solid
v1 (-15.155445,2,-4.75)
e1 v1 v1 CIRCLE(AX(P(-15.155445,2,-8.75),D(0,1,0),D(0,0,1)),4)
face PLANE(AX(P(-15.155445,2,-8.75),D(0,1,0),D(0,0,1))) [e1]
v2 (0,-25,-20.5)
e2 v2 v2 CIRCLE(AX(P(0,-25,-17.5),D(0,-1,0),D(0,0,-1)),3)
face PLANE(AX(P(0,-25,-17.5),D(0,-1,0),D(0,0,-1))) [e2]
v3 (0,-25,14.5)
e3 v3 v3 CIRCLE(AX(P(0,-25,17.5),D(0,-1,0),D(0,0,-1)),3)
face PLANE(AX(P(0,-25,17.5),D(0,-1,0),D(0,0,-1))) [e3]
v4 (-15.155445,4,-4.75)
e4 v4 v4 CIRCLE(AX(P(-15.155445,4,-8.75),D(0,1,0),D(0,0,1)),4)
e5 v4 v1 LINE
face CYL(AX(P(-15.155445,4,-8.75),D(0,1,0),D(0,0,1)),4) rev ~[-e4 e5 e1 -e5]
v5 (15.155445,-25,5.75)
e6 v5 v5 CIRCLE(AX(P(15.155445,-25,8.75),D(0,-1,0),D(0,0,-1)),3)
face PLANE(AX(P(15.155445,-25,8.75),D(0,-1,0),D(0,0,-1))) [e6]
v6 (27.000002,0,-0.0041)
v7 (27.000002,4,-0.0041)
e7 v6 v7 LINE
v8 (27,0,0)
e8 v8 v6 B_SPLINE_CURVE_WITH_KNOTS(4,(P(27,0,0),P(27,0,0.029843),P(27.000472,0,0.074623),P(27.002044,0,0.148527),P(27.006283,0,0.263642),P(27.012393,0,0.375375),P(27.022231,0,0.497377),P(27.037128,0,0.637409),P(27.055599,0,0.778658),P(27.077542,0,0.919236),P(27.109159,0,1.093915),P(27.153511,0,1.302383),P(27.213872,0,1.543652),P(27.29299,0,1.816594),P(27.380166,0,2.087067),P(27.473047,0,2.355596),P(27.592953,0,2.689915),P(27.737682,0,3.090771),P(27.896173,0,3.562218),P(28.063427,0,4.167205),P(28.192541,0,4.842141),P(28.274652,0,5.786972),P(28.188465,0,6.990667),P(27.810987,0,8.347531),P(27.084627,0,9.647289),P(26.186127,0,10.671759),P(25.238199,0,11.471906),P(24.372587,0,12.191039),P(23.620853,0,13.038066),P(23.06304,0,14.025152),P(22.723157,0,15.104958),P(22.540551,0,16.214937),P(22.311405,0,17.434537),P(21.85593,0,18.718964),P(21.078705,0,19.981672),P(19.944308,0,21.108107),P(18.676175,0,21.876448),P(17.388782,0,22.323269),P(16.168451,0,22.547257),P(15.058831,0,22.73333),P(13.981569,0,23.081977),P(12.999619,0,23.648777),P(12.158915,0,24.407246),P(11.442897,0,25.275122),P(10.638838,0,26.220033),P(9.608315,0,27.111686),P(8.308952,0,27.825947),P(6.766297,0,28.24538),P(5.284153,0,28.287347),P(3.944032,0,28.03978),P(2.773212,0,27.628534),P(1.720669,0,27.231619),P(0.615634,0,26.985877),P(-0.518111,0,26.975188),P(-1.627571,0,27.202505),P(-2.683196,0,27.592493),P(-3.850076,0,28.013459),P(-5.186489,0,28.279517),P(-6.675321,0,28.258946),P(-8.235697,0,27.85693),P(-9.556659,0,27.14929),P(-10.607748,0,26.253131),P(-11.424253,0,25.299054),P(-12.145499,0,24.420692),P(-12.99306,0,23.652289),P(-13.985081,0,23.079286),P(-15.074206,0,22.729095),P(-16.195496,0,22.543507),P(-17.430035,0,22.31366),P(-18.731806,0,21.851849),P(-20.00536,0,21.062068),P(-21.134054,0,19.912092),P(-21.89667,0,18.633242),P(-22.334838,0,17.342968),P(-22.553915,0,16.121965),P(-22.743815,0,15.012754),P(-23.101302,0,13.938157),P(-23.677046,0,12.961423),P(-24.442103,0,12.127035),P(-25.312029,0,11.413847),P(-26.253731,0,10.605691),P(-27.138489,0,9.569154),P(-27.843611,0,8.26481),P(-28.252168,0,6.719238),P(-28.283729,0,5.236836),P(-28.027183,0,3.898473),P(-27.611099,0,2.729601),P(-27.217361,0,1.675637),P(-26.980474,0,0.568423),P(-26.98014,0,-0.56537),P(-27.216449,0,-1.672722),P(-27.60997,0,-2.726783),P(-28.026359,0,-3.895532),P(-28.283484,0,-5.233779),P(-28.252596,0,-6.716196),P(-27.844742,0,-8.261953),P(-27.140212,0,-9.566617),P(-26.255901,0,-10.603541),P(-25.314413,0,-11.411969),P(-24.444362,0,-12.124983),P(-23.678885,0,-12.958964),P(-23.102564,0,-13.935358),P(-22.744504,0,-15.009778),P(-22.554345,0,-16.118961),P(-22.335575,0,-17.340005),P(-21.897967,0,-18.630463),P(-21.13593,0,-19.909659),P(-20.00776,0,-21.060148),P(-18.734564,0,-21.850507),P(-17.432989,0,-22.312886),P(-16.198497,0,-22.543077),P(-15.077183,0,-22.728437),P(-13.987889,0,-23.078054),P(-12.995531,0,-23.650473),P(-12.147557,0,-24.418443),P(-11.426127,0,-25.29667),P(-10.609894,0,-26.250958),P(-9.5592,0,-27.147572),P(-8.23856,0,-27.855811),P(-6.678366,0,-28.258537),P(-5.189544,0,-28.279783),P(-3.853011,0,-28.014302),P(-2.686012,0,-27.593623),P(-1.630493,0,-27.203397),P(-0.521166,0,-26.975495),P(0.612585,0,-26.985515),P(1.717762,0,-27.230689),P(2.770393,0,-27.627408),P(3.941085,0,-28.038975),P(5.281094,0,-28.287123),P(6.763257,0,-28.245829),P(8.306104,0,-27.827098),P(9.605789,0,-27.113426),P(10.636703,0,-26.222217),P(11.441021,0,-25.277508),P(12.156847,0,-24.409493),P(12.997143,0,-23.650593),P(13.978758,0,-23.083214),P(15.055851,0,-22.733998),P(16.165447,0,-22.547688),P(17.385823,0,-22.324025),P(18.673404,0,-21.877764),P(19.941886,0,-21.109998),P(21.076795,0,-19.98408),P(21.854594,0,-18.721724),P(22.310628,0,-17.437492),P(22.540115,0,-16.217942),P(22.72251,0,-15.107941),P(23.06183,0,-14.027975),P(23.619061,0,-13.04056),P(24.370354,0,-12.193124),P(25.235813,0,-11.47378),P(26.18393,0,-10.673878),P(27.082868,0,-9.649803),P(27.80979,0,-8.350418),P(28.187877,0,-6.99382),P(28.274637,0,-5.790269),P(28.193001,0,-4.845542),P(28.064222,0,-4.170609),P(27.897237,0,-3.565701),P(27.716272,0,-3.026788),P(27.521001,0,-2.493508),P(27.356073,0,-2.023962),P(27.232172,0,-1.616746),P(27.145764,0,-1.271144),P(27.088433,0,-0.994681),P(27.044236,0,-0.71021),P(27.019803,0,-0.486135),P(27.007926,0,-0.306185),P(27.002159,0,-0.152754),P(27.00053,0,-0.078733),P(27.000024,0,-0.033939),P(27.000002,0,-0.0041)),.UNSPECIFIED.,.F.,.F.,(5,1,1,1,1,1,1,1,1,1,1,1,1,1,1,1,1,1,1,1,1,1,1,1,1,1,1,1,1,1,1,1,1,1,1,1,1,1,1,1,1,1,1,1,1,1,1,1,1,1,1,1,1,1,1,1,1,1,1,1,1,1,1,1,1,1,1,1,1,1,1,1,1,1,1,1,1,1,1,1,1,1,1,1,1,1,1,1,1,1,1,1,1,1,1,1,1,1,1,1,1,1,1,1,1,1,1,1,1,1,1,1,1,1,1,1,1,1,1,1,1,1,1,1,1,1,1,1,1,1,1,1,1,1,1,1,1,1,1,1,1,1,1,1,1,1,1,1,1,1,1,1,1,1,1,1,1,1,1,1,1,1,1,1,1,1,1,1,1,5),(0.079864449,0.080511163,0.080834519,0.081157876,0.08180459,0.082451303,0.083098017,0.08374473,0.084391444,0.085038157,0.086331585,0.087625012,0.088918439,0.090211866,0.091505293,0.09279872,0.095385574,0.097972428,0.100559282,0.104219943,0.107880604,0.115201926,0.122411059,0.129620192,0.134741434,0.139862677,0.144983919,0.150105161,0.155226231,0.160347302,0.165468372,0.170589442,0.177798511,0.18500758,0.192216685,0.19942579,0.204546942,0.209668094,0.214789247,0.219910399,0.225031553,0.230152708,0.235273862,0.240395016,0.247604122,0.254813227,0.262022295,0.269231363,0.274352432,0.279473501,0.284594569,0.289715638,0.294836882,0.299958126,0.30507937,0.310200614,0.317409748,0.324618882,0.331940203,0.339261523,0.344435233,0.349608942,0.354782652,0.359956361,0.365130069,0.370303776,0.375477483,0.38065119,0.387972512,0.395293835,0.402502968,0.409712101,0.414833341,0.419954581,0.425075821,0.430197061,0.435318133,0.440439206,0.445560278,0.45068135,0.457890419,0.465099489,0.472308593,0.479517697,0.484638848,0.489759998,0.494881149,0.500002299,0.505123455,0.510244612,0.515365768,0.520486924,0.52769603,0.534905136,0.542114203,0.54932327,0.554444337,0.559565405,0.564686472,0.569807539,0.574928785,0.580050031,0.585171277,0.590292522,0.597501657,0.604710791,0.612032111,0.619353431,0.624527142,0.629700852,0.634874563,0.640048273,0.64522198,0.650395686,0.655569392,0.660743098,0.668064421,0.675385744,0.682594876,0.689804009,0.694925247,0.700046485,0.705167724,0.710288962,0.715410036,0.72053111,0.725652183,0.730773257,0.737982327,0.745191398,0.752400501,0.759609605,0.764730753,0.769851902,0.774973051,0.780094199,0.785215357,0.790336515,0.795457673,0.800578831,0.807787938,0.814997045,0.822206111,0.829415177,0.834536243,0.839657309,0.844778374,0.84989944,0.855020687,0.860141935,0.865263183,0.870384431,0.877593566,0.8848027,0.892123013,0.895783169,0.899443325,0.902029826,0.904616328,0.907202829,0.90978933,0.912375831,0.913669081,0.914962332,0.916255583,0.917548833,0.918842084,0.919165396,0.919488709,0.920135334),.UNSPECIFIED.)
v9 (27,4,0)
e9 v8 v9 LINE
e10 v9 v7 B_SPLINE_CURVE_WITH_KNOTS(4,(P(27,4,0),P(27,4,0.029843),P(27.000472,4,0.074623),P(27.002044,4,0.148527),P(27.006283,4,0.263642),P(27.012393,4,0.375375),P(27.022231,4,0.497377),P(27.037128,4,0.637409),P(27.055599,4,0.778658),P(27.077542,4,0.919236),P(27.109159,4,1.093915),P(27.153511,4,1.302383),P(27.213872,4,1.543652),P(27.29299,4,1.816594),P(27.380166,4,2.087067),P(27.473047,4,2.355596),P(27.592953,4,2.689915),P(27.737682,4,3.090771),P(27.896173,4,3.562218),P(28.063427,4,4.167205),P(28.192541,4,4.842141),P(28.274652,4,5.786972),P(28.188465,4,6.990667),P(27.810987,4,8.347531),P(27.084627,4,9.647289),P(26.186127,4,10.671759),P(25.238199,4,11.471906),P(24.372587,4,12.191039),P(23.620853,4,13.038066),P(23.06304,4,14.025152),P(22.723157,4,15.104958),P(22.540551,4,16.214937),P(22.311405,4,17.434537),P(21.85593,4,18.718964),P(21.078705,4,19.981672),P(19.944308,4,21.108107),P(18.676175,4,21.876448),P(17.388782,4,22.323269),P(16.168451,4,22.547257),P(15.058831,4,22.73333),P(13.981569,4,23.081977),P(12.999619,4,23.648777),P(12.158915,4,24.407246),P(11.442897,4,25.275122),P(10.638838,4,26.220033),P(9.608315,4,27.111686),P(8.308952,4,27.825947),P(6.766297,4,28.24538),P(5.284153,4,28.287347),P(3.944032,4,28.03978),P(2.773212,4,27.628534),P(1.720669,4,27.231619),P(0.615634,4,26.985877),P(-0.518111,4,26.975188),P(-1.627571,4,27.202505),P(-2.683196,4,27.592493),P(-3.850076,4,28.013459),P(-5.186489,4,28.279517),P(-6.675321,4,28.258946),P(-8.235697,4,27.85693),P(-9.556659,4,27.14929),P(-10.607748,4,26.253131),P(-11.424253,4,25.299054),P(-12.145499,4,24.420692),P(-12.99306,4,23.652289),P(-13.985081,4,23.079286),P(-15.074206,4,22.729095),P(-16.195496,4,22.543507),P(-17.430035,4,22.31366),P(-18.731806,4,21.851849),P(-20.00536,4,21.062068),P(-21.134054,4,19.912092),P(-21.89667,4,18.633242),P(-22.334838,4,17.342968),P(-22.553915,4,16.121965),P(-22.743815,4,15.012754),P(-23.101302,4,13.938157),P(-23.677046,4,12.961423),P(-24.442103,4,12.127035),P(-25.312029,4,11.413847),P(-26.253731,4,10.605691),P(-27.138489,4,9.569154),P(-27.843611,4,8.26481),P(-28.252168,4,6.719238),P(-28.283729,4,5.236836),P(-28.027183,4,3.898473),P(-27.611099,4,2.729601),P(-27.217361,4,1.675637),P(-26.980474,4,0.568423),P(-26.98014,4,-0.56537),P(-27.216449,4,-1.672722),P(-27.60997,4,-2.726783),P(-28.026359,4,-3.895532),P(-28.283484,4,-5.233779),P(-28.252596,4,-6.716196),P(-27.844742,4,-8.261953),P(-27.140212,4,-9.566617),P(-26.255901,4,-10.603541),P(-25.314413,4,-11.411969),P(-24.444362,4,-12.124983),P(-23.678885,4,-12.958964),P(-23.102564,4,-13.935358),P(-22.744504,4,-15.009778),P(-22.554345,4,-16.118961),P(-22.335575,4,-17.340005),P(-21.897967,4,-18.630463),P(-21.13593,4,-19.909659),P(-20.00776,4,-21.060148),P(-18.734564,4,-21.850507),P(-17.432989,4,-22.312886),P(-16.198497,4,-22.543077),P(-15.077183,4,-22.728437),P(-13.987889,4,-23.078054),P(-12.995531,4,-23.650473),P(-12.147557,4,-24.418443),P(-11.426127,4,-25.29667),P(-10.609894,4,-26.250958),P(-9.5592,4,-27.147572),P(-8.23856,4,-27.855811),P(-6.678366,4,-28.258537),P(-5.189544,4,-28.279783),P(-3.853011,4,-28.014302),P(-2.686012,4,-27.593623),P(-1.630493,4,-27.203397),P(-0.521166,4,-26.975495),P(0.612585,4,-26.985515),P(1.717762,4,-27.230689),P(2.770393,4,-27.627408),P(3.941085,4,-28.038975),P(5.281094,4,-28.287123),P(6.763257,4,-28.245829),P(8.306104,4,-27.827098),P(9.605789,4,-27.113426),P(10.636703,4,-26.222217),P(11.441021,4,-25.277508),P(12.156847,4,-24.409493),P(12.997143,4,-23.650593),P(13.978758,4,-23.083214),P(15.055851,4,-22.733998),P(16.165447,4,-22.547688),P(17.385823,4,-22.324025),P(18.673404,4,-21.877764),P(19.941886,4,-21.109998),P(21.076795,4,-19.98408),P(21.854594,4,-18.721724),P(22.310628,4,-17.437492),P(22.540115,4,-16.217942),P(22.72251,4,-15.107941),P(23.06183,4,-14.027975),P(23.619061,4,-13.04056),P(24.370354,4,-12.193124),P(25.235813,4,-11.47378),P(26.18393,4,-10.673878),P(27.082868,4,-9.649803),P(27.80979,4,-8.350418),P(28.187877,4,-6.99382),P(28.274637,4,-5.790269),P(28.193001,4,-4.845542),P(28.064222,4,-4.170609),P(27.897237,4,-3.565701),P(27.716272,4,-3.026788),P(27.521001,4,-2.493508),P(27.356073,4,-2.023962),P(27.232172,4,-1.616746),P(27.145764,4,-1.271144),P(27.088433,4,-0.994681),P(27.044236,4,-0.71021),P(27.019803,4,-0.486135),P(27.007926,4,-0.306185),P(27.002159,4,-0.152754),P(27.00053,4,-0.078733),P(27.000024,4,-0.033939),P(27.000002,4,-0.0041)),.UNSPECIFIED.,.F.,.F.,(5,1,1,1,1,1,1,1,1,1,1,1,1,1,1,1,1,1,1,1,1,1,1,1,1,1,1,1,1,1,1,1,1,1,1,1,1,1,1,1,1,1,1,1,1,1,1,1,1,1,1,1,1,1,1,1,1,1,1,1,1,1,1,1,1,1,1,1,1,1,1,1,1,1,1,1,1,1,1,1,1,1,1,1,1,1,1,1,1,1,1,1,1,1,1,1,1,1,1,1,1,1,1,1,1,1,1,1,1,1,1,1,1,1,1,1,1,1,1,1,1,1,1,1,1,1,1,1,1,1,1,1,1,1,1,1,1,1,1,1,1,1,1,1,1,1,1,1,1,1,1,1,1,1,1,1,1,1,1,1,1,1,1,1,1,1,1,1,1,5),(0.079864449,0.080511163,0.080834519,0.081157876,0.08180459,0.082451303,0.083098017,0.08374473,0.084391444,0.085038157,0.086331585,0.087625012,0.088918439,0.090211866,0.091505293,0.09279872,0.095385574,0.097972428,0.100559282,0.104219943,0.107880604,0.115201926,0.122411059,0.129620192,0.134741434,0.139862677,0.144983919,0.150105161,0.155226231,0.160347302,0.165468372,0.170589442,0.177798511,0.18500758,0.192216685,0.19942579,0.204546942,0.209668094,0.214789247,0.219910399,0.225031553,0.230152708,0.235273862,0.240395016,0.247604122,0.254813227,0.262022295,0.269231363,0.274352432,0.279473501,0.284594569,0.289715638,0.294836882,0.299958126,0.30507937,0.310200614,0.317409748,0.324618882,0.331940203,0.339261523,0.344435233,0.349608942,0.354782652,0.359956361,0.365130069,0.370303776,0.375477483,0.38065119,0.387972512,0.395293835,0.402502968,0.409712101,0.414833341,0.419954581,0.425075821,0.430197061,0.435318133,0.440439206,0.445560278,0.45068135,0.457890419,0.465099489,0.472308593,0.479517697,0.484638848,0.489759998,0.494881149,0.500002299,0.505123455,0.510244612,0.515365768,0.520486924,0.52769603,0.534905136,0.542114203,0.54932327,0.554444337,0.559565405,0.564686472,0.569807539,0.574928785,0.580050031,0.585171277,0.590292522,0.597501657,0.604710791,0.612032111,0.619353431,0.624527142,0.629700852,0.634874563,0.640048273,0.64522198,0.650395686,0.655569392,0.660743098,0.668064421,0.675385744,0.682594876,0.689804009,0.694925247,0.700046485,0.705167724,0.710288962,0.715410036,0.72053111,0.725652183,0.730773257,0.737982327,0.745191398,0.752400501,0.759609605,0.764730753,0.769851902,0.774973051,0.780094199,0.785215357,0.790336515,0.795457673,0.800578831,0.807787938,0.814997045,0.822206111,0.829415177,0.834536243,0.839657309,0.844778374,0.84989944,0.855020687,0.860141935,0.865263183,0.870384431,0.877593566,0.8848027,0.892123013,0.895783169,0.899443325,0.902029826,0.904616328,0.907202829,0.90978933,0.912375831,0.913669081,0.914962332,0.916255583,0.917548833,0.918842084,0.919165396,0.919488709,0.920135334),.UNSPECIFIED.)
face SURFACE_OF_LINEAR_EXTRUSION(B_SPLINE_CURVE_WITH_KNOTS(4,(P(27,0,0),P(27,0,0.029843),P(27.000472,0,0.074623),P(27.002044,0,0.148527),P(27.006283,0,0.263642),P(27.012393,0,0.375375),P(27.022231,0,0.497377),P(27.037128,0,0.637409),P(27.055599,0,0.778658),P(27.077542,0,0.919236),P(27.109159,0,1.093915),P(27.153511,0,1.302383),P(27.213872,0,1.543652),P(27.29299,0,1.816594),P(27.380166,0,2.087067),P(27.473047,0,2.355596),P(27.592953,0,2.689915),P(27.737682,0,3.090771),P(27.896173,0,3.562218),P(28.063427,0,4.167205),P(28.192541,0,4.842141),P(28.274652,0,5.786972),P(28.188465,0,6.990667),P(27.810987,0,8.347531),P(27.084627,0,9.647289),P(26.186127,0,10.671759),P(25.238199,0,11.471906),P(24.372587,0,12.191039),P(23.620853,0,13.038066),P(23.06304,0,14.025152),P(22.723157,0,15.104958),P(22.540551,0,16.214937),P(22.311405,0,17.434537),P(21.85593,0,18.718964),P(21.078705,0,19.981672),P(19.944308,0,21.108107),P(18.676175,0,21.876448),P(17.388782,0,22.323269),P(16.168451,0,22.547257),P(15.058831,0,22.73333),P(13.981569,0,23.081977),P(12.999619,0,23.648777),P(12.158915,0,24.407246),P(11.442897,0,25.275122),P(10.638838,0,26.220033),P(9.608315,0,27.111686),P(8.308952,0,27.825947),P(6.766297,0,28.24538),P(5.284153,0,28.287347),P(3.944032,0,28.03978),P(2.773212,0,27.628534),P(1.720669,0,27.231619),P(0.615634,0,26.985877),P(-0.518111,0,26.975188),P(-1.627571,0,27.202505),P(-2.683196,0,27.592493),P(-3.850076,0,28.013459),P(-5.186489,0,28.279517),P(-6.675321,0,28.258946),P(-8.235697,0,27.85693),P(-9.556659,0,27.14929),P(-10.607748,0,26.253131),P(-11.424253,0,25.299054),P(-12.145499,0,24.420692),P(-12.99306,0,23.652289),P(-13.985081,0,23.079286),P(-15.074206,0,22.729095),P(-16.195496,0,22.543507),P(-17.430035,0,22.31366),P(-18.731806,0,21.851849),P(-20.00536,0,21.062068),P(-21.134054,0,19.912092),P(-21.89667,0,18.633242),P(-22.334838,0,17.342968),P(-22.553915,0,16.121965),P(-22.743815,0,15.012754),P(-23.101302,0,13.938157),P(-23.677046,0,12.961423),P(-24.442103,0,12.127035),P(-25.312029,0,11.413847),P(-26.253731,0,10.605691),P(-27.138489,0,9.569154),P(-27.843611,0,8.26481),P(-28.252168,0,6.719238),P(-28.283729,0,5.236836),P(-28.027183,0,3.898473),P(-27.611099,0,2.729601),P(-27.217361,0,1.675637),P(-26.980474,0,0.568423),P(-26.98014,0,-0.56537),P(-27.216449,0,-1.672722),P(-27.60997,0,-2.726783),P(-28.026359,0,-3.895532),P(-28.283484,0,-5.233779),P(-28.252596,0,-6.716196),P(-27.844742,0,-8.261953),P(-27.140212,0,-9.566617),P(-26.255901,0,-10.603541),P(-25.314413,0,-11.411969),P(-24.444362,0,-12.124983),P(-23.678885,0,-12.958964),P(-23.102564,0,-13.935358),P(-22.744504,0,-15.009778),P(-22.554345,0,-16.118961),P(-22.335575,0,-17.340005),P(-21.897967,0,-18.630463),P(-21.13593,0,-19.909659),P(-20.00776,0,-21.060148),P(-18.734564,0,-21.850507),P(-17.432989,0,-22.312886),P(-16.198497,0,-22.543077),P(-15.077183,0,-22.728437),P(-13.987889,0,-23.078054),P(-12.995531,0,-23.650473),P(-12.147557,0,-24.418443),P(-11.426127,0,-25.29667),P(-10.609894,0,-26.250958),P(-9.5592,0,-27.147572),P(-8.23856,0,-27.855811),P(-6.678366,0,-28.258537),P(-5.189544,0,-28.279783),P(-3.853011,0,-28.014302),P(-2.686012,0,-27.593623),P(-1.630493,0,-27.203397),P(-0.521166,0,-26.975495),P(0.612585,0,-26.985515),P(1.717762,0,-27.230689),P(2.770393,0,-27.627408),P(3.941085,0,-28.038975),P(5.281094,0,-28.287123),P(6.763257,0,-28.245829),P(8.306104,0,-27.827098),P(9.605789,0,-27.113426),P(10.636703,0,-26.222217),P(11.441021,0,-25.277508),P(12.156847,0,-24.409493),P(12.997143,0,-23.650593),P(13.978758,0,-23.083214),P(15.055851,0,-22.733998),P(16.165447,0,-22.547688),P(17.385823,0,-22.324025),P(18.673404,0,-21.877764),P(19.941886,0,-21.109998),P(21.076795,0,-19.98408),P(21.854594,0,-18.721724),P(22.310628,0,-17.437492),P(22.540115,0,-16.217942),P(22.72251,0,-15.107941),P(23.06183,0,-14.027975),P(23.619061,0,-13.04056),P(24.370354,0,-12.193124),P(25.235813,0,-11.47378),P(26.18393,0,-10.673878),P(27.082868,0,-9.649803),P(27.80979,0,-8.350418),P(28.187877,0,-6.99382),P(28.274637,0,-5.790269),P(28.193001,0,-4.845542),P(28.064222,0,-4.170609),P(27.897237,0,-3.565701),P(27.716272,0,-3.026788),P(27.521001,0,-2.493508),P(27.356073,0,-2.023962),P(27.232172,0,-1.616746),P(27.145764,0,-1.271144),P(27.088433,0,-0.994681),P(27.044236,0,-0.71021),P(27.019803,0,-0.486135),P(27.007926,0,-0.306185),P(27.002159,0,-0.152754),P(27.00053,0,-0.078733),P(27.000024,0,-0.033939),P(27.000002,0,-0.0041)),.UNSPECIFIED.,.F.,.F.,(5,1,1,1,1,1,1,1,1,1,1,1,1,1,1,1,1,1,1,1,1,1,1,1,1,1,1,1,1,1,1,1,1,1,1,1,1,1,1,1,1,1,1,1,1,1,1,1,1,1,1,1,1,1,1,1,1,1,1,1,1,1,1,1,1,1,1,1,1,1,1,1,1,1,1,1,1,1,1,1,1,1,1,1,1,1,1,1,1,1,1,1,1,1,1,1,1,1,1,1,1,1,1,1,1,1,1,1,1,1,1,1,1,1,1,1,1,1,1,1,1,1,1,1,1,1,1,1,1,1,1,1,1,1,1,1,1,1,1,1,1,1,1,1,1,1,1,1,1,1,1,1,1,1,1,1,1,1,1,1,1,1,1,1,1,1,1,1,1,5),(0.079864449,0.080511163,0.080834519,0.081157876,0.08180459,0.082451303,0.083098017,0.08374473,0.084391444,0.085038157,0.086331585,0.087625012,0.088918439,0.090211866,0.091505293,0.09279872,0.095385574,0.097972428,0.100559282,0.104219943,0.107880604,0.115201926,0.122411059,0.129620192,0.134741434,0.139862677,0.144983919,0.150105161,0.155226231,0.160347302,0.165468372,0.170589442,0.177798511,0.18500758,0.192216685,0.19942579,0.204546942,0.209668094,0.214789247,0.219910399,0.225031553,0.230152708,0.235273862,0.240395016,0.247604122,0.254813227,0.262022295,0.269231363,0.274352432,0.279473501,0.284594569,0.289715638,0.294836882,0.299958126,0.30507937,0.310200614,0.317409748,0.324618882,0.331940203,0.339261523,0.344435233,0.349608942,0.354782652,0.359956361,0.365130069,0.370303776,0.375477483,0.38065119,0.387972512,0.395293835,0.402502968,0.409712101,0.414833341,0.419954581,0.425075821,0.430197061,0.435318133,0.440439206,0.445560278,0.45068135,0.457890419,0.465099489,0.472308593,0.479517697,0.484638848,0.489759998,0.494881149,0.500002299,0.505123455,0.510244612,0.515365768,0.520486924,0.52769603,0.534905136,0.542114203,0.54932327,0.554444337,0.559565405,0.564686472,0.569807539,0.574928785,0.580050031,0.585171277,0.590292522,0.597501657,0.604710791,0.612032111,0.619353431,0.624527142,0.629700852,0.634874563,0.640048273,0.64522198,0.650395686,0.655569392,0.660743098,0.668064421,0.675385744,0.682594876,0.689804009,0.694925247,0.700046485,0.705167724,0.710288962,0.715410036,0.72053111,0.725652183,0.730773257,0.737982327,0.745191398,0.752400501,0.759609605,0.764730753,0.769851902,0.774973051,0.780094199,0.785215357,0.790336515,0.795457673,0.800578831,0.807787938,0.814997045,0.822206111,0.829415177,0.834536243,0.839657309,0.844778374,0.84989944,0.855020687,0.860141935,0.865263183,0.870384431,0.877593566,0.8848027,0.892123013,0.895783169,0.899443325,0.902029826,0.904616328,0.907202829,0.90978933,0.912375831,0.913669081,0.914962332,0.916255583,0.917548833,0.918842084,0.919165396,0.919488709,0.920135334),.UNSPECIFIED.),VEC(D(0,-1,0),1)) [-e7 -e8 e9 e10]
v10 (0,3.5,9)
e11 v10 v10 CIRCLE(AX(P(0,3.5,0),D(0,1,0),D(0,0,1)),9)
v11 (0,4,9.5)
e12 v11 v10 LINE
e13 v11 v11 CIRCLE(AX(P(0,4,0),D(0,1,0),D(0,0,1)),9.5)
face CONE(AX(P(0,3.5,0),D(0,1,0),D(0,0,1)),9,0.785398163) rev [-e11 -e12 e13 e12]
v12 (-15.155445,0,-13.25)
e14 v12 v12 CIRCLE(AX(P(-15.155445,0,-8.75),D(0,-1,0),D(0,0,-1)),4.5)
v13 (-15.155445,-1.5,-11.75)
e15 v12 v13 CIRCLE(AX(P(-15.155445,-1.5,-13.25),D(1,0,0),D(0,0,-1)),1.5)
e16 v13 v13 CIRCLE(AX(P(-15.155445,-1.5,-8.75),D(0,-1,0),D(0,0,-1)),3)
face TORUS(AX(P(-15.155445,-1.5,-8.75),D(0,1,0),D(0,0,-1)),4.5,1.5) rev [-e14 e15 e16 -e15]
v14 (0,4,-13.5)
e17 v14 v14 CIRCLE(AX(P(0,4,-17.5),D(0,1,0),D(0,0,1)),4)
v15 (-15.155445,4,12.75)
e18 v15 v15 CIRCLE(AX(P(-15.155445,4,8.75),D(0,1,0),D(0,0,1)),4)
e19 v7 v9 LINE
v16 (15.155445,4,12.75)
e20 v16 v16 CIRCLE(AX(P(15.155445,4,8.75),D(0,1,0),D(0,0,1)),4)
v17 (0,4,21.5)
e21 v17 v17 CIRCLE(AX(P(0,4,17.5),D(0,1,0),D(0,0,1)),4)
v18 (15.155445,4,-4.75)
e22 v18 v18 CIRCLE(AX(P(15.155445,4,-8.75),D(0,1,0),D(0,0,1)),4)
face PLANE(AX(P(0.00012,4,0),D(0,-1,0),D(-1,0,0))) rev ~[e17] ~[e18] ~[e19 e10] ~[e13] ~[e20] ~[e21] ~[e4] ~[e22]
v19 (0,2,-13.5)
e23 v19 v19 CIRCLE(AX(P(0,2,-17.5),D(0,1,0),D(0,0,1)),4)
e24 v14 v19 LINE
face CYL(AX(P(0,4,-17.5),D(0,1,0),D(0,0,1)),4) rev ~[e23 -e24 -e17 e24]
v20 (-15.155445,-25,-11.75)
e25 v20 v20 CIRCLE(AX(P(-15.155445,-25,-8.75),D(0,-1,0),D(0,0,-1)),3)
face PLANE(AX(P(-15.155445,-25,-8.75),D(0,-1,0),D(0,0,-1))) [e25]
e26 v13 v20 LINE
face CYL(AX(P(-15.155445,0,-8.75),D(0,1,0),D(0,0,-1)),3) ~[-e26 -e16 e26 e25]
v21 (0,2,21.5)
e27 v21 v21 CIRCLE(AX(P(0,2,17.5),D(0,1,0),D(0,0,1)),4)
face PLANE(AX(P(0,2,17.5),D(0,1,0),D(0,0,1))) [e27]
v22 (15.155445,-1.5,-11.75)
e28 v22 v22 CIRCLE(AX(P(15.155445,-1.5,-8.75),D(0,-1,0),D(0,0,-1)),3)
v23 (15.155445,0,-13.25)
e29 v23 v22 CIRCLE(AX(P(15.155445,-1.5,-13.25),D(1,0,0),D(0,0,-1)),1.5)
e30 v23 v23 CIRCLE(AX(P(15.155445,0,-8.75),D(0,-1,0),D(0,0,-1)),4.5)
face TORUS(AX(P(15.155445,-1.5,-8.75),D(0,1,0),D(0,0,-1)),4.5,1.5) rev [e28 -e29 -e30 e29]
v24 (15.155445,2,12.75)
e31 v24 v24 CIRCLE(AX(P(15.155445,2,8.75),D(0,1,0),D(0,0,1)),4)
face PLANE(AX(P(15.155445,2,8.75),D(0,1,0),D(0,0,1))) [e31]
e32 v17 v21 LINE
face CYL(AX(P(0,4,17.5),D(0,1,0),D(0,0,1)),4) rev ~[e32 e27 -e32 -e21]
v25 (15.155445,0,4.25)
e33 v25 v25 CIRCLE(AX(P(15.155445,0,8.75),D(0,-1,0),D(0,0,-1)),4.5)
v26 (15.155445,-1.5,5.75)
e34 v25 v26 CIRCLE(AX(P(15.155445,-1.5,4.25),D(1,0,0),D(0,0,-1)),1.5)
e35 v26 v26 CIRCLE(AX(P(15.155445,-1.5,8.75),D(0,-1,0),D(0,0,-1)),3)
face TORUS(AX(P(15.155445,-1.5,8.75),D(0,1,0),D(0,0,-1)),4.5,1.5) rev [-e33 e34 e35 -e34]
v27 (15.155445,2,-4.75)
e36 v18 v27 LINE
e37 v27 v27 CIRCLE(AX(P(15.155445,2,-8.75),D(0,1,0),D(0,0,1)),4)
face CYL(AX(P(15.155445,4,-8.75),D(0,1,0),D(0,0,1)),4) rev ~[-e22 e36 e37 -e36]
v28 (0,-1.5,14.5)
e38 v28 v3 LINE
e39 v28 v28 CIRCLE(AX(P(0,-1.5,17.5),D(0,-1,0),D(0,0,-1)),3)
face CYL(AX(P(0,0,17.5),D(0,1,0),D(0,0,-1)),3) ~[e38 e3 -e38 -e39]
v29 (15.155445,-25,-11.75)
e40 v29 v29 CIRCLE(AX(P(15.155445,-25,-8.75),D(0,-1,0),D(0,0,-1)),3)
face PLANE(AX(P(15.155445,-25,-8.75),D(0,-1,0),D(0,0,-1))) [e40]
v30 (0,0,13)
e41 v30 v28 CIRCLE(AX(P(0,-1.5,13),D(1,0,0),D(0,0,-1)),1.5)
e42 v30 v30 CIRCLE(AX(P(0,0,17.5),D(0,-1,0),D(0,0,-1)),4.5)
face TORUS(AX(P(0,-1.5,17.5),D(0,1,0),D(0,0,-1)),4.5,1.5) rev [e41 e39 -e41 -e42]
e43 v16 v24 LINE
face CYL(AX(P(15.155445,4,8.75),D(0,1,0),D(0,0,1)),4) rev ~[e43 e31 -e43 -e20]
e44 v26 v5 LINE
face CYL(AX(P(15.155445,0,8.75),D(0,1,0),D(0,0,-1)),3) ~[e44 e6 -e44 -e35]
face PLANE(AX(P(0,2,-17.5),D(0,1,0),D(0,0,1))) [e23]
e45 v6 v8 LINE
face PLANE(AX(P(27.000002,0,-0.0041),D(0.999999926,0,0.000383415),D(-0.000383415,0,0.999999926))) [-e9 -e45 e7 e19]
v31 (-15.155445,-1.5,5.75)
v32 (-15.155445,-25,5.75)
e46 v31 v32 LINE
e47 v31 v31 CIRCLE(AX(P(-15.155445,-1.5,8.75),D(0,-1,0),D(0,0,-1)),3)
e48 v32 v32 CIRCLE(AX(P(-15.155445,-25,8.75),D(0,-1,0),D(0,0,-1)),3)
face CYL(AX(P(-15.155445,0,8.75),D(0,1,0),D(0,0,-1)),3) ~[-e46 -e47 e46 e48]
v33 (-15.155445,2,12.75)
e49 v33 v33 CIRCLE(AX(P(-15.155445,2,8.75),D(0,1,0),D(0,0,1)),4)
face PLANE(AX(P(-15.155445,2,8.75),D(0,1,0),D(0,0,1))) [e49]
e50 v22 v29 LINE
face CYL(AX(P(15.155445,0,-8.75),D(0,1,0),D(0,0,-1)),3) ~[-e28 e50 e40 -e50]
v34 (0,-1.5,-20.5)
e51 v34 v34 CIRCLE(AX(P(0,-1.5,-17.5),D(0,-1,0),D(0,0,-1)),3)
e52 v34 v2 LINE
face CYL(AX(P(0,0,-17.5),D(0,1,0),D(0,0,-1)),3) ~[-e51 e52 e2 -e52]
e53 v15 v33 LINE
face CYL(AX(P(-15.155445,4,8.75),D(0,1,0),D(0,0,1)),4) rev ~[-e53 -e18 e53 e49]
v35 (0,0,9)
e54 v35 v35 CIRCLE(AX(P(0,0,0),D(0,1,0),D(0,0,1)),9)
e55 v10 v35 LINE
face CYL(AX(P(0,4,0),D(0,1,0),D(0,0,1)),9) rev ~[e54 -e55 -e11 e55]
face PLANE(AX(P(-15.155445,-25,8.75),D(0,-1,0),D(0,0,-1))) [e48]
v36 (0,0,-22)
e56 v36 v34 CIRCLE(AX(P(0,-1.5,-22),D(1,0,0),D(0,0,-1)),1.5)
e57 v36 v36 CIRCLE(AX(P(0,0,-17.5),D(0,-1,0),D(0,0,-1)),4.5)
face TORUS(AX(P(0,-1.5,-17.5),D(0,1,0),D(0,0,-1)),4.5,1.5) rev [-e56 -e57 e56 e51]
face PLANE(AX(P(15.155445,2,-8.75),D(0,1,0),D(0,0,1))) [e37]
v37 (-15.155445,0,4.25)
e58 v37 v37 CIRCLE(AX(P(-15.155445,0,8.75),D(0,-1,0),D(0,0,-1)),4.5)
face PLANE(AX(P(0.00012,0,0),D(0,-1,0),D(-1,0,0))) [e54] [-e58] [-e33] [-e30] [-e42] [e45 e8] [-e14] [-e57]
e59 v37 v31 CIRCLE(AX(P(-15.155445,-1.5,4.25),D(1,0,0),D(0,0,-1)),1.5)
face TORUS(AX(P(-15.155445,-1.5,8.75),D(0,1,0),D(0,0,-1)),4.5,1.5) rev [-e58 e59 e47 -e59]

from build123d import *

# Parameters (mm, degrees)
BOSS_EXTRUDE1_DEPTH = 4
SKETCH2_R           = 9
CUT_EXTRUDE1_DEPTH  = 4
SKETCH3_R           = 4
CUT_EXTRUDE2_DEPTH  = 2
CHAMFER1_SIZE       = 0.5
SKETCH4_R           = 3
BOSS_EXTRUDE2_DEPTH = 25
FILLET1_R           = 1.5


with BuildPart() as part:
    # Sketch1 → Boss-Extrude1 (new body)
    with BuildSketch(Plane(origin=(0, 0, 0), x_dir=(1, 0, 0), z_dir=(0, 1, 0))):
        with BuildLine():
            add(Edge.make_bspline(
                [(27, 0), (27, -0.029843366), (27.000471765, -0.074622861), (27.002044312, -0.148526868), (27.00628274, -0.263641883), (27.012393312, -0.37537519), (27.022230728, -0.497376741), (27.03712787, -0.637409177), (27.055598892, -0.778657943), (27.077542429, -0.919236466), (27.10915909, -1.093914746), (27.153510714, -1.302382782), (27.213872001, -1.543652209), (27.292990208, -1.816594021), (27.380165946, -2.087067057), (27.473046955, -2.355596024), (27.59295323, -2.689915261), (27.737681672, -3.090771227), (27.896172741, -3.562218272), (28.063427098, -4.16720549), (28.192540962, -4.842140507), (28.27465216, -5.786972017), (28.188464813, -6.990666987), (27.810987259, -8.347530847), (27.084626542, -9.647288981), (26.186127024, -10.671759321), (25.238199473, -11.471905983), (24.372586568, -12.191039395), (23.620853175, -13.038066251), (23.063039846, -14.02515248), (22.723156568, -15.104958367), (22.540550691, -16.214937479), (22.311404563, -17.43453731), (21.855929835, -18.718964056), (21.078704809, -19.98167216), (19.944308098, -21.108107003), (18.676174537, -21.876448471), (17.388781942, -22.323268693), (16.168451287, -22.547256528), (15.058830974, -22.733329752), (13.981568641, -23.081976643), (12.999619336, -23.648776549), (12.158914933, -24.407246222), (11.442896635, -25.275122476), (10.638838498, -26.220033221), (9.608314539, -27.111685537), (8.308952362, -27.825947245), (6.766296625, -28.245380094), (5.284152953, -28.287347119), (3.944032474, -28.039779895), (2.773211959, -27.628533705), (1.720668629, -27.231619492), (0.615634296, -26.985876537), (-0.518110613, -26.975188118), (-1.627571272, -27.202504562), (-2.683196056, -27.592492668), (-3.85007581, -28.013459209), (-5.186489321, -28.279516523), (-6.675320744, -28.258945705), (-8.23569736, -27.856929805), (-9.556659448, -27.149289793), (-10.607747583, -26.253130508), (-11.424252904, -25.299053941), (-12.145498663, -24.42069207), (-12.993060357, -23.652288656), (-13.985080986, -23.079285719), (-15.074206005, -22.729094793), (-16.19549609, -22.543507448), (-17.430034502, -22.313659592), (-18.731806288, -21.851849103), (-20.00536007, -21.06206781), (-21.134053807, -19.912092302), (-21.896670407, -18.633242382), (-22.334837666, -17.34296826), (-22.553915449, -16.121964922), (-22.743815495, -15.012754256), (-23.101301577, -13.938157258), (-23.677046205, -12.961423213), (-24.442102548, -12.127035027), (-25.312028672, -11.413847459), (-26.253730695, -10.605690826), (-27.138488985, -9.569154166), (-27.843610955, -8.264810031), (-28.252168407, -6.719238227), (-28.283728903, -5.236836375), (-28.027183298, -3.898472997), (-27.611098664, -2.729600507), (-27.217360546, -1.675636661), (-26.980474187, -0.568422897), (-26.980139595, 0.565370052), (-27.216449027, 1.67272244), (-27.60997034, 2.726782849), (-28.02635931, 3.895531876), (-28.283483847, 5.233779265), (-28.252595633, 6.716195557), (-27.844741826, 8.261952815), (-27.140211848, 9.56661709), (-26.255901422, 10.60354088), (-25.314412694, 11.411968505), (-24.444361726, 12.124983159), (-23.678884788, 12.958963568), (-23.102563793, 13.935358019), (-22.744504016, 15.00977844), (-22.554344619, 16.118960967), (-22.335575088, 17.340005427), (-21.897967172, 18.63046337), (-21.135929645, 19.909659005), (-20.007760124, 21.060147962), (-18.734564151, 21.850507376), (-17.432988943, 22.312886202), (-16.19849739, 22.543076542), (-15.077182613, 22.728437444), (-13.987888625, 23.078054409), (-12.995530871, 23.650473301), (-12.147556588, 24.418443199), (-11.426126663, 25.29667015), (-10.609894266, 26.250958295), (-9.559200101, 27.147571895), (-8.238559851, 27.855810786), (-6.678365913, 28.258537364), (-5.189544443, 28.279782546), (-3.853010553, 28.014301607), (-2.686012173, 27.593622942), (-1.63049252, 27.203396622), (-0.521165891, 26.975495221), (0.612584807, 26.985514684), (1.717761904, 27.230689313), (2.77039276, 27.62740848), (3.941085326, 28.038974558), (5.281094376, 28.287123159), (6.763256705, 28.245828875), (8.306103534, 27.827098161), (9.605789274, 27.113425941), (10.636703091, 26.222217097), (11.441020578, 25.277508431), (12.156847243, 24.409493008), (12.99714314, 23.650593216), (13.978757745, 23.083213842), (15.055851496, 22.733997898), (16.165446962, 22.547688138), (17.38582278, 22.324025244), (18.673404279, 21.877764394), (19.941886401, 21.109997947), (21.076795453, 19.984079854), (21.854593687, 18.721724418), (22.310627604, 17.43749212), (22.540115396, 16.217941522), (22.722509608, 15.107940943), (23.061829575, 14.027974655), (23.619060558, 13.040559519), (24.370354006, 12.193123574), (25.235812527, 11.473780228), (26.183929614, 10.673877959), (27.082867808, 9.649802868), (27.809790294, 8.350417847), (28.187877209, 6.993819653), (28.274636512, 5.79026898), (28.193001106, 4.845542448), (28.064221926, 4.170608775), (27.897237423, 3.565701085), (27.716272452, 3.02678805), (27.521000906, 2.493508038), (27.356073412, 2.02396201), (27.232171798, 1.616745756), (27.145764302, 1.271144393), (27.08843343, 0.99468093), (27.044236171, 0.710209832), (27.019803238, 0.486134544), (27.007926019, 0.3061854), (27.002159239, 0.152753864), (27.000530427, 0.078733201), (27.000024448, 0.033939281), (27.000001572, 0.004099997)],
                knots=[0.079864449, 0.079864449, 0.079864449, 0.079864449, 0.079864449, 0.080511163, 0.080834519, 0.081157876, 0.08180459, 0.082451303, 0.083098017, 0.08374473, 0.084391444, 0.085038157, 0.086331585, 0.087625012, 0.088918439, 0.090211866, 0.091505293, 0.09279872, 0.095385574, 0.097972428, 0.100559282, 0.104219943, 0.107880604, 0.115201926, 0.122411059, 0.129620192, 0.134741434, 0.139862677, 0.144983919, 0.150105161, 0.155226231, 0.160347302, 0.165468372, 0.170589442, 0.177798511, 0.18500758, 0.192216685, 0.19942579, 0.204546942, 0.209668094, 0.214789247, 0.219910399, 0.225031553, 0.230152708, 0.235273862, 0.240395016, 0.247604122, 0.254813227, 0.262022295, 0.269231363, 0.274352432, 0.279473501, 0.284594569, 0.289715638, 0.294836882, 0.299958126, 0.30507937, 0.310200614, 0.317409748, 0.324618882, 0.331940203, 0.339261523, 0.344435233, 0.349608942, 0.354782652, 0.359956361, 0.365130069, 0.370303776, 0.375477483, 0.38065119, 0.387972512, 0.395293835, 0.402502968, 0.409712101, 0.414833341, 0.419954581, 0.425075821, 0.430197061, 0.435318133, 0.440439206, 0.445560278, 0.45068135, 0.457890419, 0.465099489, 0.472308593, 0.479517697, 0.484638848, 0.489759998, 0.494881149, 0.500002299, 0.505123455, 0.510244612, 0.515365768, 0.520486924, 0.52769603, 0.534905136, 0.542114203, 0.54932327, 0.554444337, 0.559565405, 0.564686472, 0.569807539, 0.574928785, 0.580050031, 0.585171277, 0.590292522, 0.597501657, 0.604710791, 0.612032111, 0.619353431, 0.624527142, 0.629700852, 0.634874563, 0.640048273, 0.64522198, 0.650395686, 0.655569392, 0.660743098, 0.668064421, 0.675385744, 0.682594876, 0.689804009, 0.694925247, 0.700046485, 0.705167724, 0.710288962, 0.715410036, 0.72053111, 0.725652183, 0.730773257, 0.737982327, 0.745191398, 0.752400501, 0.759609605, 0.764730753, 0.769851902, 0.774973051, 0.780094199, 0.785215357, 0.790336515, 0.795457673, 0.800578831, 0.807787938, 0.814997045, 0.822206111, 0.829415177, 0.834536243, 0.839657309, 0.844778374, 0.84989944, 0.855020687, 0.860141935, 0.865263183, 0.870384431, 0.877593566, 0.8848027, 0.892123013, 0.895783169, 0.899443325, 0.902029826, 0.904616328, 0.907202829, 0.90978933, 0.912375831, 0.913669081, 0.914962332, 0.916255583, 0.917548833, 0.918842084, 0.919165396, 0.919488709, 0.920135334, 0.920135334, 0.920135334, 0.920135334, 0.920135334], degree=4))
            Line((27.000001572, 0.004099997), (27, 0))
        make_face()
    extrude(amount=BOSS_EXTRUDE1_DEPTH)

    # Sketch2 → Cut-Extrude1 (cut)
    with BuildSketch(Plane(origin=(0, 4, 0), x_dir=(1, 0, 0), z_dir=(0, 1, 0))):
        with Locations(Location((0, 0, 0), (0, 0, 270))):
            Circle(SKETCH2_R)
    extrude(amount=-CUT_EXTRUDE1_DEPTH, mode=Mode.SUBTRACT)

    # Sketch3 → Cut-Extrude2 (cut)
    with BuildSketch(Plane(origin=(0, 4, 0), x_dir=(1, 0, 0), z_dir=(0, 1, 0))):
        with Locations(Location((0, 17.5, 0), (0, 0, 270))):
            Circle(SKETCH3_R)
        with Locations(Location((15.155444566, 8.75, 0), (0, 0, 270))):
            Circle(SKETCH3_R)
        with Locations(Location((15.155444566, -8.75, 0), (0, 0, 270))):
            Circle(SKETCH3_R)
        with Locations(Location((0, -17.5, 0), (0, 0, 270))):
            Circle(SKETCH3_R)
        with Locations(Location((-15.155444566, -8.75, 0), (0, 0, 270))):
            Circle(SKETCH3_R)
        with Locations(Location((-15.155444566, 8.75, 0), (0, 0, 270))):
            Circle(SKETCH3_R)
    extrude(amount=-CUT_EXTRUDE2_DEPTH, mode=Mode.SUBTRACT)

    # Chamfer1
    chamfer1_edges = [part.edges().sort_by_distance(p)[0] for p in [
        (0, 4, -9),
    ]]
    chamfer(chamfer1_edges, length=CHAMFER1_SIZE)

    # Sketch4 → Boss-Extrude2 (add)
    with BuildSketch(Plane.XZ):
        with Locations(Location((0, 17.5, 0), (0, 0, 270))):
            Circle(SKETCH4_R)
        with Locations(Location((15.155444566, 8.75, 0), (0, 0, 270))):
            Circle(SKETCH4_R)
        with Locations(Location((15.155444566, -8.75, 0), (0, 0, 270))):
            Circle(SKETCH4_R)
        with Locations(Location((0, -17.5, 0), (0, 0, 270))):
            Circle(SKETCH4_R)
        with Locations(Location((-15.155444566, -8.75, 0), (0, 0, 270))):
            Circle(SKETCH4_R)
        with Locations(Location((-15.155444566, 8.75, 0), (0, 0, 270))):
            Circle(SKETCH4_R)
    extrude(amount=BOSS_EXTRUDE2_DEPTH)

    # Fillet1
    fillet1_edges = [part.edges().sort_by_distance(p)[0] for p in [
        (0, 0, 20.5),
        (-15.155444566, 0, 11.75),
        (-15.155444566, 0, -5.75),
        (0, 0, -14.5),
        (15.155444566, 0, -5.75),
        (15.155444566, 0, 11.75),
    ]]
    fillet(fillet1_edges, radius=FILLET1_R)


solid = part.part
